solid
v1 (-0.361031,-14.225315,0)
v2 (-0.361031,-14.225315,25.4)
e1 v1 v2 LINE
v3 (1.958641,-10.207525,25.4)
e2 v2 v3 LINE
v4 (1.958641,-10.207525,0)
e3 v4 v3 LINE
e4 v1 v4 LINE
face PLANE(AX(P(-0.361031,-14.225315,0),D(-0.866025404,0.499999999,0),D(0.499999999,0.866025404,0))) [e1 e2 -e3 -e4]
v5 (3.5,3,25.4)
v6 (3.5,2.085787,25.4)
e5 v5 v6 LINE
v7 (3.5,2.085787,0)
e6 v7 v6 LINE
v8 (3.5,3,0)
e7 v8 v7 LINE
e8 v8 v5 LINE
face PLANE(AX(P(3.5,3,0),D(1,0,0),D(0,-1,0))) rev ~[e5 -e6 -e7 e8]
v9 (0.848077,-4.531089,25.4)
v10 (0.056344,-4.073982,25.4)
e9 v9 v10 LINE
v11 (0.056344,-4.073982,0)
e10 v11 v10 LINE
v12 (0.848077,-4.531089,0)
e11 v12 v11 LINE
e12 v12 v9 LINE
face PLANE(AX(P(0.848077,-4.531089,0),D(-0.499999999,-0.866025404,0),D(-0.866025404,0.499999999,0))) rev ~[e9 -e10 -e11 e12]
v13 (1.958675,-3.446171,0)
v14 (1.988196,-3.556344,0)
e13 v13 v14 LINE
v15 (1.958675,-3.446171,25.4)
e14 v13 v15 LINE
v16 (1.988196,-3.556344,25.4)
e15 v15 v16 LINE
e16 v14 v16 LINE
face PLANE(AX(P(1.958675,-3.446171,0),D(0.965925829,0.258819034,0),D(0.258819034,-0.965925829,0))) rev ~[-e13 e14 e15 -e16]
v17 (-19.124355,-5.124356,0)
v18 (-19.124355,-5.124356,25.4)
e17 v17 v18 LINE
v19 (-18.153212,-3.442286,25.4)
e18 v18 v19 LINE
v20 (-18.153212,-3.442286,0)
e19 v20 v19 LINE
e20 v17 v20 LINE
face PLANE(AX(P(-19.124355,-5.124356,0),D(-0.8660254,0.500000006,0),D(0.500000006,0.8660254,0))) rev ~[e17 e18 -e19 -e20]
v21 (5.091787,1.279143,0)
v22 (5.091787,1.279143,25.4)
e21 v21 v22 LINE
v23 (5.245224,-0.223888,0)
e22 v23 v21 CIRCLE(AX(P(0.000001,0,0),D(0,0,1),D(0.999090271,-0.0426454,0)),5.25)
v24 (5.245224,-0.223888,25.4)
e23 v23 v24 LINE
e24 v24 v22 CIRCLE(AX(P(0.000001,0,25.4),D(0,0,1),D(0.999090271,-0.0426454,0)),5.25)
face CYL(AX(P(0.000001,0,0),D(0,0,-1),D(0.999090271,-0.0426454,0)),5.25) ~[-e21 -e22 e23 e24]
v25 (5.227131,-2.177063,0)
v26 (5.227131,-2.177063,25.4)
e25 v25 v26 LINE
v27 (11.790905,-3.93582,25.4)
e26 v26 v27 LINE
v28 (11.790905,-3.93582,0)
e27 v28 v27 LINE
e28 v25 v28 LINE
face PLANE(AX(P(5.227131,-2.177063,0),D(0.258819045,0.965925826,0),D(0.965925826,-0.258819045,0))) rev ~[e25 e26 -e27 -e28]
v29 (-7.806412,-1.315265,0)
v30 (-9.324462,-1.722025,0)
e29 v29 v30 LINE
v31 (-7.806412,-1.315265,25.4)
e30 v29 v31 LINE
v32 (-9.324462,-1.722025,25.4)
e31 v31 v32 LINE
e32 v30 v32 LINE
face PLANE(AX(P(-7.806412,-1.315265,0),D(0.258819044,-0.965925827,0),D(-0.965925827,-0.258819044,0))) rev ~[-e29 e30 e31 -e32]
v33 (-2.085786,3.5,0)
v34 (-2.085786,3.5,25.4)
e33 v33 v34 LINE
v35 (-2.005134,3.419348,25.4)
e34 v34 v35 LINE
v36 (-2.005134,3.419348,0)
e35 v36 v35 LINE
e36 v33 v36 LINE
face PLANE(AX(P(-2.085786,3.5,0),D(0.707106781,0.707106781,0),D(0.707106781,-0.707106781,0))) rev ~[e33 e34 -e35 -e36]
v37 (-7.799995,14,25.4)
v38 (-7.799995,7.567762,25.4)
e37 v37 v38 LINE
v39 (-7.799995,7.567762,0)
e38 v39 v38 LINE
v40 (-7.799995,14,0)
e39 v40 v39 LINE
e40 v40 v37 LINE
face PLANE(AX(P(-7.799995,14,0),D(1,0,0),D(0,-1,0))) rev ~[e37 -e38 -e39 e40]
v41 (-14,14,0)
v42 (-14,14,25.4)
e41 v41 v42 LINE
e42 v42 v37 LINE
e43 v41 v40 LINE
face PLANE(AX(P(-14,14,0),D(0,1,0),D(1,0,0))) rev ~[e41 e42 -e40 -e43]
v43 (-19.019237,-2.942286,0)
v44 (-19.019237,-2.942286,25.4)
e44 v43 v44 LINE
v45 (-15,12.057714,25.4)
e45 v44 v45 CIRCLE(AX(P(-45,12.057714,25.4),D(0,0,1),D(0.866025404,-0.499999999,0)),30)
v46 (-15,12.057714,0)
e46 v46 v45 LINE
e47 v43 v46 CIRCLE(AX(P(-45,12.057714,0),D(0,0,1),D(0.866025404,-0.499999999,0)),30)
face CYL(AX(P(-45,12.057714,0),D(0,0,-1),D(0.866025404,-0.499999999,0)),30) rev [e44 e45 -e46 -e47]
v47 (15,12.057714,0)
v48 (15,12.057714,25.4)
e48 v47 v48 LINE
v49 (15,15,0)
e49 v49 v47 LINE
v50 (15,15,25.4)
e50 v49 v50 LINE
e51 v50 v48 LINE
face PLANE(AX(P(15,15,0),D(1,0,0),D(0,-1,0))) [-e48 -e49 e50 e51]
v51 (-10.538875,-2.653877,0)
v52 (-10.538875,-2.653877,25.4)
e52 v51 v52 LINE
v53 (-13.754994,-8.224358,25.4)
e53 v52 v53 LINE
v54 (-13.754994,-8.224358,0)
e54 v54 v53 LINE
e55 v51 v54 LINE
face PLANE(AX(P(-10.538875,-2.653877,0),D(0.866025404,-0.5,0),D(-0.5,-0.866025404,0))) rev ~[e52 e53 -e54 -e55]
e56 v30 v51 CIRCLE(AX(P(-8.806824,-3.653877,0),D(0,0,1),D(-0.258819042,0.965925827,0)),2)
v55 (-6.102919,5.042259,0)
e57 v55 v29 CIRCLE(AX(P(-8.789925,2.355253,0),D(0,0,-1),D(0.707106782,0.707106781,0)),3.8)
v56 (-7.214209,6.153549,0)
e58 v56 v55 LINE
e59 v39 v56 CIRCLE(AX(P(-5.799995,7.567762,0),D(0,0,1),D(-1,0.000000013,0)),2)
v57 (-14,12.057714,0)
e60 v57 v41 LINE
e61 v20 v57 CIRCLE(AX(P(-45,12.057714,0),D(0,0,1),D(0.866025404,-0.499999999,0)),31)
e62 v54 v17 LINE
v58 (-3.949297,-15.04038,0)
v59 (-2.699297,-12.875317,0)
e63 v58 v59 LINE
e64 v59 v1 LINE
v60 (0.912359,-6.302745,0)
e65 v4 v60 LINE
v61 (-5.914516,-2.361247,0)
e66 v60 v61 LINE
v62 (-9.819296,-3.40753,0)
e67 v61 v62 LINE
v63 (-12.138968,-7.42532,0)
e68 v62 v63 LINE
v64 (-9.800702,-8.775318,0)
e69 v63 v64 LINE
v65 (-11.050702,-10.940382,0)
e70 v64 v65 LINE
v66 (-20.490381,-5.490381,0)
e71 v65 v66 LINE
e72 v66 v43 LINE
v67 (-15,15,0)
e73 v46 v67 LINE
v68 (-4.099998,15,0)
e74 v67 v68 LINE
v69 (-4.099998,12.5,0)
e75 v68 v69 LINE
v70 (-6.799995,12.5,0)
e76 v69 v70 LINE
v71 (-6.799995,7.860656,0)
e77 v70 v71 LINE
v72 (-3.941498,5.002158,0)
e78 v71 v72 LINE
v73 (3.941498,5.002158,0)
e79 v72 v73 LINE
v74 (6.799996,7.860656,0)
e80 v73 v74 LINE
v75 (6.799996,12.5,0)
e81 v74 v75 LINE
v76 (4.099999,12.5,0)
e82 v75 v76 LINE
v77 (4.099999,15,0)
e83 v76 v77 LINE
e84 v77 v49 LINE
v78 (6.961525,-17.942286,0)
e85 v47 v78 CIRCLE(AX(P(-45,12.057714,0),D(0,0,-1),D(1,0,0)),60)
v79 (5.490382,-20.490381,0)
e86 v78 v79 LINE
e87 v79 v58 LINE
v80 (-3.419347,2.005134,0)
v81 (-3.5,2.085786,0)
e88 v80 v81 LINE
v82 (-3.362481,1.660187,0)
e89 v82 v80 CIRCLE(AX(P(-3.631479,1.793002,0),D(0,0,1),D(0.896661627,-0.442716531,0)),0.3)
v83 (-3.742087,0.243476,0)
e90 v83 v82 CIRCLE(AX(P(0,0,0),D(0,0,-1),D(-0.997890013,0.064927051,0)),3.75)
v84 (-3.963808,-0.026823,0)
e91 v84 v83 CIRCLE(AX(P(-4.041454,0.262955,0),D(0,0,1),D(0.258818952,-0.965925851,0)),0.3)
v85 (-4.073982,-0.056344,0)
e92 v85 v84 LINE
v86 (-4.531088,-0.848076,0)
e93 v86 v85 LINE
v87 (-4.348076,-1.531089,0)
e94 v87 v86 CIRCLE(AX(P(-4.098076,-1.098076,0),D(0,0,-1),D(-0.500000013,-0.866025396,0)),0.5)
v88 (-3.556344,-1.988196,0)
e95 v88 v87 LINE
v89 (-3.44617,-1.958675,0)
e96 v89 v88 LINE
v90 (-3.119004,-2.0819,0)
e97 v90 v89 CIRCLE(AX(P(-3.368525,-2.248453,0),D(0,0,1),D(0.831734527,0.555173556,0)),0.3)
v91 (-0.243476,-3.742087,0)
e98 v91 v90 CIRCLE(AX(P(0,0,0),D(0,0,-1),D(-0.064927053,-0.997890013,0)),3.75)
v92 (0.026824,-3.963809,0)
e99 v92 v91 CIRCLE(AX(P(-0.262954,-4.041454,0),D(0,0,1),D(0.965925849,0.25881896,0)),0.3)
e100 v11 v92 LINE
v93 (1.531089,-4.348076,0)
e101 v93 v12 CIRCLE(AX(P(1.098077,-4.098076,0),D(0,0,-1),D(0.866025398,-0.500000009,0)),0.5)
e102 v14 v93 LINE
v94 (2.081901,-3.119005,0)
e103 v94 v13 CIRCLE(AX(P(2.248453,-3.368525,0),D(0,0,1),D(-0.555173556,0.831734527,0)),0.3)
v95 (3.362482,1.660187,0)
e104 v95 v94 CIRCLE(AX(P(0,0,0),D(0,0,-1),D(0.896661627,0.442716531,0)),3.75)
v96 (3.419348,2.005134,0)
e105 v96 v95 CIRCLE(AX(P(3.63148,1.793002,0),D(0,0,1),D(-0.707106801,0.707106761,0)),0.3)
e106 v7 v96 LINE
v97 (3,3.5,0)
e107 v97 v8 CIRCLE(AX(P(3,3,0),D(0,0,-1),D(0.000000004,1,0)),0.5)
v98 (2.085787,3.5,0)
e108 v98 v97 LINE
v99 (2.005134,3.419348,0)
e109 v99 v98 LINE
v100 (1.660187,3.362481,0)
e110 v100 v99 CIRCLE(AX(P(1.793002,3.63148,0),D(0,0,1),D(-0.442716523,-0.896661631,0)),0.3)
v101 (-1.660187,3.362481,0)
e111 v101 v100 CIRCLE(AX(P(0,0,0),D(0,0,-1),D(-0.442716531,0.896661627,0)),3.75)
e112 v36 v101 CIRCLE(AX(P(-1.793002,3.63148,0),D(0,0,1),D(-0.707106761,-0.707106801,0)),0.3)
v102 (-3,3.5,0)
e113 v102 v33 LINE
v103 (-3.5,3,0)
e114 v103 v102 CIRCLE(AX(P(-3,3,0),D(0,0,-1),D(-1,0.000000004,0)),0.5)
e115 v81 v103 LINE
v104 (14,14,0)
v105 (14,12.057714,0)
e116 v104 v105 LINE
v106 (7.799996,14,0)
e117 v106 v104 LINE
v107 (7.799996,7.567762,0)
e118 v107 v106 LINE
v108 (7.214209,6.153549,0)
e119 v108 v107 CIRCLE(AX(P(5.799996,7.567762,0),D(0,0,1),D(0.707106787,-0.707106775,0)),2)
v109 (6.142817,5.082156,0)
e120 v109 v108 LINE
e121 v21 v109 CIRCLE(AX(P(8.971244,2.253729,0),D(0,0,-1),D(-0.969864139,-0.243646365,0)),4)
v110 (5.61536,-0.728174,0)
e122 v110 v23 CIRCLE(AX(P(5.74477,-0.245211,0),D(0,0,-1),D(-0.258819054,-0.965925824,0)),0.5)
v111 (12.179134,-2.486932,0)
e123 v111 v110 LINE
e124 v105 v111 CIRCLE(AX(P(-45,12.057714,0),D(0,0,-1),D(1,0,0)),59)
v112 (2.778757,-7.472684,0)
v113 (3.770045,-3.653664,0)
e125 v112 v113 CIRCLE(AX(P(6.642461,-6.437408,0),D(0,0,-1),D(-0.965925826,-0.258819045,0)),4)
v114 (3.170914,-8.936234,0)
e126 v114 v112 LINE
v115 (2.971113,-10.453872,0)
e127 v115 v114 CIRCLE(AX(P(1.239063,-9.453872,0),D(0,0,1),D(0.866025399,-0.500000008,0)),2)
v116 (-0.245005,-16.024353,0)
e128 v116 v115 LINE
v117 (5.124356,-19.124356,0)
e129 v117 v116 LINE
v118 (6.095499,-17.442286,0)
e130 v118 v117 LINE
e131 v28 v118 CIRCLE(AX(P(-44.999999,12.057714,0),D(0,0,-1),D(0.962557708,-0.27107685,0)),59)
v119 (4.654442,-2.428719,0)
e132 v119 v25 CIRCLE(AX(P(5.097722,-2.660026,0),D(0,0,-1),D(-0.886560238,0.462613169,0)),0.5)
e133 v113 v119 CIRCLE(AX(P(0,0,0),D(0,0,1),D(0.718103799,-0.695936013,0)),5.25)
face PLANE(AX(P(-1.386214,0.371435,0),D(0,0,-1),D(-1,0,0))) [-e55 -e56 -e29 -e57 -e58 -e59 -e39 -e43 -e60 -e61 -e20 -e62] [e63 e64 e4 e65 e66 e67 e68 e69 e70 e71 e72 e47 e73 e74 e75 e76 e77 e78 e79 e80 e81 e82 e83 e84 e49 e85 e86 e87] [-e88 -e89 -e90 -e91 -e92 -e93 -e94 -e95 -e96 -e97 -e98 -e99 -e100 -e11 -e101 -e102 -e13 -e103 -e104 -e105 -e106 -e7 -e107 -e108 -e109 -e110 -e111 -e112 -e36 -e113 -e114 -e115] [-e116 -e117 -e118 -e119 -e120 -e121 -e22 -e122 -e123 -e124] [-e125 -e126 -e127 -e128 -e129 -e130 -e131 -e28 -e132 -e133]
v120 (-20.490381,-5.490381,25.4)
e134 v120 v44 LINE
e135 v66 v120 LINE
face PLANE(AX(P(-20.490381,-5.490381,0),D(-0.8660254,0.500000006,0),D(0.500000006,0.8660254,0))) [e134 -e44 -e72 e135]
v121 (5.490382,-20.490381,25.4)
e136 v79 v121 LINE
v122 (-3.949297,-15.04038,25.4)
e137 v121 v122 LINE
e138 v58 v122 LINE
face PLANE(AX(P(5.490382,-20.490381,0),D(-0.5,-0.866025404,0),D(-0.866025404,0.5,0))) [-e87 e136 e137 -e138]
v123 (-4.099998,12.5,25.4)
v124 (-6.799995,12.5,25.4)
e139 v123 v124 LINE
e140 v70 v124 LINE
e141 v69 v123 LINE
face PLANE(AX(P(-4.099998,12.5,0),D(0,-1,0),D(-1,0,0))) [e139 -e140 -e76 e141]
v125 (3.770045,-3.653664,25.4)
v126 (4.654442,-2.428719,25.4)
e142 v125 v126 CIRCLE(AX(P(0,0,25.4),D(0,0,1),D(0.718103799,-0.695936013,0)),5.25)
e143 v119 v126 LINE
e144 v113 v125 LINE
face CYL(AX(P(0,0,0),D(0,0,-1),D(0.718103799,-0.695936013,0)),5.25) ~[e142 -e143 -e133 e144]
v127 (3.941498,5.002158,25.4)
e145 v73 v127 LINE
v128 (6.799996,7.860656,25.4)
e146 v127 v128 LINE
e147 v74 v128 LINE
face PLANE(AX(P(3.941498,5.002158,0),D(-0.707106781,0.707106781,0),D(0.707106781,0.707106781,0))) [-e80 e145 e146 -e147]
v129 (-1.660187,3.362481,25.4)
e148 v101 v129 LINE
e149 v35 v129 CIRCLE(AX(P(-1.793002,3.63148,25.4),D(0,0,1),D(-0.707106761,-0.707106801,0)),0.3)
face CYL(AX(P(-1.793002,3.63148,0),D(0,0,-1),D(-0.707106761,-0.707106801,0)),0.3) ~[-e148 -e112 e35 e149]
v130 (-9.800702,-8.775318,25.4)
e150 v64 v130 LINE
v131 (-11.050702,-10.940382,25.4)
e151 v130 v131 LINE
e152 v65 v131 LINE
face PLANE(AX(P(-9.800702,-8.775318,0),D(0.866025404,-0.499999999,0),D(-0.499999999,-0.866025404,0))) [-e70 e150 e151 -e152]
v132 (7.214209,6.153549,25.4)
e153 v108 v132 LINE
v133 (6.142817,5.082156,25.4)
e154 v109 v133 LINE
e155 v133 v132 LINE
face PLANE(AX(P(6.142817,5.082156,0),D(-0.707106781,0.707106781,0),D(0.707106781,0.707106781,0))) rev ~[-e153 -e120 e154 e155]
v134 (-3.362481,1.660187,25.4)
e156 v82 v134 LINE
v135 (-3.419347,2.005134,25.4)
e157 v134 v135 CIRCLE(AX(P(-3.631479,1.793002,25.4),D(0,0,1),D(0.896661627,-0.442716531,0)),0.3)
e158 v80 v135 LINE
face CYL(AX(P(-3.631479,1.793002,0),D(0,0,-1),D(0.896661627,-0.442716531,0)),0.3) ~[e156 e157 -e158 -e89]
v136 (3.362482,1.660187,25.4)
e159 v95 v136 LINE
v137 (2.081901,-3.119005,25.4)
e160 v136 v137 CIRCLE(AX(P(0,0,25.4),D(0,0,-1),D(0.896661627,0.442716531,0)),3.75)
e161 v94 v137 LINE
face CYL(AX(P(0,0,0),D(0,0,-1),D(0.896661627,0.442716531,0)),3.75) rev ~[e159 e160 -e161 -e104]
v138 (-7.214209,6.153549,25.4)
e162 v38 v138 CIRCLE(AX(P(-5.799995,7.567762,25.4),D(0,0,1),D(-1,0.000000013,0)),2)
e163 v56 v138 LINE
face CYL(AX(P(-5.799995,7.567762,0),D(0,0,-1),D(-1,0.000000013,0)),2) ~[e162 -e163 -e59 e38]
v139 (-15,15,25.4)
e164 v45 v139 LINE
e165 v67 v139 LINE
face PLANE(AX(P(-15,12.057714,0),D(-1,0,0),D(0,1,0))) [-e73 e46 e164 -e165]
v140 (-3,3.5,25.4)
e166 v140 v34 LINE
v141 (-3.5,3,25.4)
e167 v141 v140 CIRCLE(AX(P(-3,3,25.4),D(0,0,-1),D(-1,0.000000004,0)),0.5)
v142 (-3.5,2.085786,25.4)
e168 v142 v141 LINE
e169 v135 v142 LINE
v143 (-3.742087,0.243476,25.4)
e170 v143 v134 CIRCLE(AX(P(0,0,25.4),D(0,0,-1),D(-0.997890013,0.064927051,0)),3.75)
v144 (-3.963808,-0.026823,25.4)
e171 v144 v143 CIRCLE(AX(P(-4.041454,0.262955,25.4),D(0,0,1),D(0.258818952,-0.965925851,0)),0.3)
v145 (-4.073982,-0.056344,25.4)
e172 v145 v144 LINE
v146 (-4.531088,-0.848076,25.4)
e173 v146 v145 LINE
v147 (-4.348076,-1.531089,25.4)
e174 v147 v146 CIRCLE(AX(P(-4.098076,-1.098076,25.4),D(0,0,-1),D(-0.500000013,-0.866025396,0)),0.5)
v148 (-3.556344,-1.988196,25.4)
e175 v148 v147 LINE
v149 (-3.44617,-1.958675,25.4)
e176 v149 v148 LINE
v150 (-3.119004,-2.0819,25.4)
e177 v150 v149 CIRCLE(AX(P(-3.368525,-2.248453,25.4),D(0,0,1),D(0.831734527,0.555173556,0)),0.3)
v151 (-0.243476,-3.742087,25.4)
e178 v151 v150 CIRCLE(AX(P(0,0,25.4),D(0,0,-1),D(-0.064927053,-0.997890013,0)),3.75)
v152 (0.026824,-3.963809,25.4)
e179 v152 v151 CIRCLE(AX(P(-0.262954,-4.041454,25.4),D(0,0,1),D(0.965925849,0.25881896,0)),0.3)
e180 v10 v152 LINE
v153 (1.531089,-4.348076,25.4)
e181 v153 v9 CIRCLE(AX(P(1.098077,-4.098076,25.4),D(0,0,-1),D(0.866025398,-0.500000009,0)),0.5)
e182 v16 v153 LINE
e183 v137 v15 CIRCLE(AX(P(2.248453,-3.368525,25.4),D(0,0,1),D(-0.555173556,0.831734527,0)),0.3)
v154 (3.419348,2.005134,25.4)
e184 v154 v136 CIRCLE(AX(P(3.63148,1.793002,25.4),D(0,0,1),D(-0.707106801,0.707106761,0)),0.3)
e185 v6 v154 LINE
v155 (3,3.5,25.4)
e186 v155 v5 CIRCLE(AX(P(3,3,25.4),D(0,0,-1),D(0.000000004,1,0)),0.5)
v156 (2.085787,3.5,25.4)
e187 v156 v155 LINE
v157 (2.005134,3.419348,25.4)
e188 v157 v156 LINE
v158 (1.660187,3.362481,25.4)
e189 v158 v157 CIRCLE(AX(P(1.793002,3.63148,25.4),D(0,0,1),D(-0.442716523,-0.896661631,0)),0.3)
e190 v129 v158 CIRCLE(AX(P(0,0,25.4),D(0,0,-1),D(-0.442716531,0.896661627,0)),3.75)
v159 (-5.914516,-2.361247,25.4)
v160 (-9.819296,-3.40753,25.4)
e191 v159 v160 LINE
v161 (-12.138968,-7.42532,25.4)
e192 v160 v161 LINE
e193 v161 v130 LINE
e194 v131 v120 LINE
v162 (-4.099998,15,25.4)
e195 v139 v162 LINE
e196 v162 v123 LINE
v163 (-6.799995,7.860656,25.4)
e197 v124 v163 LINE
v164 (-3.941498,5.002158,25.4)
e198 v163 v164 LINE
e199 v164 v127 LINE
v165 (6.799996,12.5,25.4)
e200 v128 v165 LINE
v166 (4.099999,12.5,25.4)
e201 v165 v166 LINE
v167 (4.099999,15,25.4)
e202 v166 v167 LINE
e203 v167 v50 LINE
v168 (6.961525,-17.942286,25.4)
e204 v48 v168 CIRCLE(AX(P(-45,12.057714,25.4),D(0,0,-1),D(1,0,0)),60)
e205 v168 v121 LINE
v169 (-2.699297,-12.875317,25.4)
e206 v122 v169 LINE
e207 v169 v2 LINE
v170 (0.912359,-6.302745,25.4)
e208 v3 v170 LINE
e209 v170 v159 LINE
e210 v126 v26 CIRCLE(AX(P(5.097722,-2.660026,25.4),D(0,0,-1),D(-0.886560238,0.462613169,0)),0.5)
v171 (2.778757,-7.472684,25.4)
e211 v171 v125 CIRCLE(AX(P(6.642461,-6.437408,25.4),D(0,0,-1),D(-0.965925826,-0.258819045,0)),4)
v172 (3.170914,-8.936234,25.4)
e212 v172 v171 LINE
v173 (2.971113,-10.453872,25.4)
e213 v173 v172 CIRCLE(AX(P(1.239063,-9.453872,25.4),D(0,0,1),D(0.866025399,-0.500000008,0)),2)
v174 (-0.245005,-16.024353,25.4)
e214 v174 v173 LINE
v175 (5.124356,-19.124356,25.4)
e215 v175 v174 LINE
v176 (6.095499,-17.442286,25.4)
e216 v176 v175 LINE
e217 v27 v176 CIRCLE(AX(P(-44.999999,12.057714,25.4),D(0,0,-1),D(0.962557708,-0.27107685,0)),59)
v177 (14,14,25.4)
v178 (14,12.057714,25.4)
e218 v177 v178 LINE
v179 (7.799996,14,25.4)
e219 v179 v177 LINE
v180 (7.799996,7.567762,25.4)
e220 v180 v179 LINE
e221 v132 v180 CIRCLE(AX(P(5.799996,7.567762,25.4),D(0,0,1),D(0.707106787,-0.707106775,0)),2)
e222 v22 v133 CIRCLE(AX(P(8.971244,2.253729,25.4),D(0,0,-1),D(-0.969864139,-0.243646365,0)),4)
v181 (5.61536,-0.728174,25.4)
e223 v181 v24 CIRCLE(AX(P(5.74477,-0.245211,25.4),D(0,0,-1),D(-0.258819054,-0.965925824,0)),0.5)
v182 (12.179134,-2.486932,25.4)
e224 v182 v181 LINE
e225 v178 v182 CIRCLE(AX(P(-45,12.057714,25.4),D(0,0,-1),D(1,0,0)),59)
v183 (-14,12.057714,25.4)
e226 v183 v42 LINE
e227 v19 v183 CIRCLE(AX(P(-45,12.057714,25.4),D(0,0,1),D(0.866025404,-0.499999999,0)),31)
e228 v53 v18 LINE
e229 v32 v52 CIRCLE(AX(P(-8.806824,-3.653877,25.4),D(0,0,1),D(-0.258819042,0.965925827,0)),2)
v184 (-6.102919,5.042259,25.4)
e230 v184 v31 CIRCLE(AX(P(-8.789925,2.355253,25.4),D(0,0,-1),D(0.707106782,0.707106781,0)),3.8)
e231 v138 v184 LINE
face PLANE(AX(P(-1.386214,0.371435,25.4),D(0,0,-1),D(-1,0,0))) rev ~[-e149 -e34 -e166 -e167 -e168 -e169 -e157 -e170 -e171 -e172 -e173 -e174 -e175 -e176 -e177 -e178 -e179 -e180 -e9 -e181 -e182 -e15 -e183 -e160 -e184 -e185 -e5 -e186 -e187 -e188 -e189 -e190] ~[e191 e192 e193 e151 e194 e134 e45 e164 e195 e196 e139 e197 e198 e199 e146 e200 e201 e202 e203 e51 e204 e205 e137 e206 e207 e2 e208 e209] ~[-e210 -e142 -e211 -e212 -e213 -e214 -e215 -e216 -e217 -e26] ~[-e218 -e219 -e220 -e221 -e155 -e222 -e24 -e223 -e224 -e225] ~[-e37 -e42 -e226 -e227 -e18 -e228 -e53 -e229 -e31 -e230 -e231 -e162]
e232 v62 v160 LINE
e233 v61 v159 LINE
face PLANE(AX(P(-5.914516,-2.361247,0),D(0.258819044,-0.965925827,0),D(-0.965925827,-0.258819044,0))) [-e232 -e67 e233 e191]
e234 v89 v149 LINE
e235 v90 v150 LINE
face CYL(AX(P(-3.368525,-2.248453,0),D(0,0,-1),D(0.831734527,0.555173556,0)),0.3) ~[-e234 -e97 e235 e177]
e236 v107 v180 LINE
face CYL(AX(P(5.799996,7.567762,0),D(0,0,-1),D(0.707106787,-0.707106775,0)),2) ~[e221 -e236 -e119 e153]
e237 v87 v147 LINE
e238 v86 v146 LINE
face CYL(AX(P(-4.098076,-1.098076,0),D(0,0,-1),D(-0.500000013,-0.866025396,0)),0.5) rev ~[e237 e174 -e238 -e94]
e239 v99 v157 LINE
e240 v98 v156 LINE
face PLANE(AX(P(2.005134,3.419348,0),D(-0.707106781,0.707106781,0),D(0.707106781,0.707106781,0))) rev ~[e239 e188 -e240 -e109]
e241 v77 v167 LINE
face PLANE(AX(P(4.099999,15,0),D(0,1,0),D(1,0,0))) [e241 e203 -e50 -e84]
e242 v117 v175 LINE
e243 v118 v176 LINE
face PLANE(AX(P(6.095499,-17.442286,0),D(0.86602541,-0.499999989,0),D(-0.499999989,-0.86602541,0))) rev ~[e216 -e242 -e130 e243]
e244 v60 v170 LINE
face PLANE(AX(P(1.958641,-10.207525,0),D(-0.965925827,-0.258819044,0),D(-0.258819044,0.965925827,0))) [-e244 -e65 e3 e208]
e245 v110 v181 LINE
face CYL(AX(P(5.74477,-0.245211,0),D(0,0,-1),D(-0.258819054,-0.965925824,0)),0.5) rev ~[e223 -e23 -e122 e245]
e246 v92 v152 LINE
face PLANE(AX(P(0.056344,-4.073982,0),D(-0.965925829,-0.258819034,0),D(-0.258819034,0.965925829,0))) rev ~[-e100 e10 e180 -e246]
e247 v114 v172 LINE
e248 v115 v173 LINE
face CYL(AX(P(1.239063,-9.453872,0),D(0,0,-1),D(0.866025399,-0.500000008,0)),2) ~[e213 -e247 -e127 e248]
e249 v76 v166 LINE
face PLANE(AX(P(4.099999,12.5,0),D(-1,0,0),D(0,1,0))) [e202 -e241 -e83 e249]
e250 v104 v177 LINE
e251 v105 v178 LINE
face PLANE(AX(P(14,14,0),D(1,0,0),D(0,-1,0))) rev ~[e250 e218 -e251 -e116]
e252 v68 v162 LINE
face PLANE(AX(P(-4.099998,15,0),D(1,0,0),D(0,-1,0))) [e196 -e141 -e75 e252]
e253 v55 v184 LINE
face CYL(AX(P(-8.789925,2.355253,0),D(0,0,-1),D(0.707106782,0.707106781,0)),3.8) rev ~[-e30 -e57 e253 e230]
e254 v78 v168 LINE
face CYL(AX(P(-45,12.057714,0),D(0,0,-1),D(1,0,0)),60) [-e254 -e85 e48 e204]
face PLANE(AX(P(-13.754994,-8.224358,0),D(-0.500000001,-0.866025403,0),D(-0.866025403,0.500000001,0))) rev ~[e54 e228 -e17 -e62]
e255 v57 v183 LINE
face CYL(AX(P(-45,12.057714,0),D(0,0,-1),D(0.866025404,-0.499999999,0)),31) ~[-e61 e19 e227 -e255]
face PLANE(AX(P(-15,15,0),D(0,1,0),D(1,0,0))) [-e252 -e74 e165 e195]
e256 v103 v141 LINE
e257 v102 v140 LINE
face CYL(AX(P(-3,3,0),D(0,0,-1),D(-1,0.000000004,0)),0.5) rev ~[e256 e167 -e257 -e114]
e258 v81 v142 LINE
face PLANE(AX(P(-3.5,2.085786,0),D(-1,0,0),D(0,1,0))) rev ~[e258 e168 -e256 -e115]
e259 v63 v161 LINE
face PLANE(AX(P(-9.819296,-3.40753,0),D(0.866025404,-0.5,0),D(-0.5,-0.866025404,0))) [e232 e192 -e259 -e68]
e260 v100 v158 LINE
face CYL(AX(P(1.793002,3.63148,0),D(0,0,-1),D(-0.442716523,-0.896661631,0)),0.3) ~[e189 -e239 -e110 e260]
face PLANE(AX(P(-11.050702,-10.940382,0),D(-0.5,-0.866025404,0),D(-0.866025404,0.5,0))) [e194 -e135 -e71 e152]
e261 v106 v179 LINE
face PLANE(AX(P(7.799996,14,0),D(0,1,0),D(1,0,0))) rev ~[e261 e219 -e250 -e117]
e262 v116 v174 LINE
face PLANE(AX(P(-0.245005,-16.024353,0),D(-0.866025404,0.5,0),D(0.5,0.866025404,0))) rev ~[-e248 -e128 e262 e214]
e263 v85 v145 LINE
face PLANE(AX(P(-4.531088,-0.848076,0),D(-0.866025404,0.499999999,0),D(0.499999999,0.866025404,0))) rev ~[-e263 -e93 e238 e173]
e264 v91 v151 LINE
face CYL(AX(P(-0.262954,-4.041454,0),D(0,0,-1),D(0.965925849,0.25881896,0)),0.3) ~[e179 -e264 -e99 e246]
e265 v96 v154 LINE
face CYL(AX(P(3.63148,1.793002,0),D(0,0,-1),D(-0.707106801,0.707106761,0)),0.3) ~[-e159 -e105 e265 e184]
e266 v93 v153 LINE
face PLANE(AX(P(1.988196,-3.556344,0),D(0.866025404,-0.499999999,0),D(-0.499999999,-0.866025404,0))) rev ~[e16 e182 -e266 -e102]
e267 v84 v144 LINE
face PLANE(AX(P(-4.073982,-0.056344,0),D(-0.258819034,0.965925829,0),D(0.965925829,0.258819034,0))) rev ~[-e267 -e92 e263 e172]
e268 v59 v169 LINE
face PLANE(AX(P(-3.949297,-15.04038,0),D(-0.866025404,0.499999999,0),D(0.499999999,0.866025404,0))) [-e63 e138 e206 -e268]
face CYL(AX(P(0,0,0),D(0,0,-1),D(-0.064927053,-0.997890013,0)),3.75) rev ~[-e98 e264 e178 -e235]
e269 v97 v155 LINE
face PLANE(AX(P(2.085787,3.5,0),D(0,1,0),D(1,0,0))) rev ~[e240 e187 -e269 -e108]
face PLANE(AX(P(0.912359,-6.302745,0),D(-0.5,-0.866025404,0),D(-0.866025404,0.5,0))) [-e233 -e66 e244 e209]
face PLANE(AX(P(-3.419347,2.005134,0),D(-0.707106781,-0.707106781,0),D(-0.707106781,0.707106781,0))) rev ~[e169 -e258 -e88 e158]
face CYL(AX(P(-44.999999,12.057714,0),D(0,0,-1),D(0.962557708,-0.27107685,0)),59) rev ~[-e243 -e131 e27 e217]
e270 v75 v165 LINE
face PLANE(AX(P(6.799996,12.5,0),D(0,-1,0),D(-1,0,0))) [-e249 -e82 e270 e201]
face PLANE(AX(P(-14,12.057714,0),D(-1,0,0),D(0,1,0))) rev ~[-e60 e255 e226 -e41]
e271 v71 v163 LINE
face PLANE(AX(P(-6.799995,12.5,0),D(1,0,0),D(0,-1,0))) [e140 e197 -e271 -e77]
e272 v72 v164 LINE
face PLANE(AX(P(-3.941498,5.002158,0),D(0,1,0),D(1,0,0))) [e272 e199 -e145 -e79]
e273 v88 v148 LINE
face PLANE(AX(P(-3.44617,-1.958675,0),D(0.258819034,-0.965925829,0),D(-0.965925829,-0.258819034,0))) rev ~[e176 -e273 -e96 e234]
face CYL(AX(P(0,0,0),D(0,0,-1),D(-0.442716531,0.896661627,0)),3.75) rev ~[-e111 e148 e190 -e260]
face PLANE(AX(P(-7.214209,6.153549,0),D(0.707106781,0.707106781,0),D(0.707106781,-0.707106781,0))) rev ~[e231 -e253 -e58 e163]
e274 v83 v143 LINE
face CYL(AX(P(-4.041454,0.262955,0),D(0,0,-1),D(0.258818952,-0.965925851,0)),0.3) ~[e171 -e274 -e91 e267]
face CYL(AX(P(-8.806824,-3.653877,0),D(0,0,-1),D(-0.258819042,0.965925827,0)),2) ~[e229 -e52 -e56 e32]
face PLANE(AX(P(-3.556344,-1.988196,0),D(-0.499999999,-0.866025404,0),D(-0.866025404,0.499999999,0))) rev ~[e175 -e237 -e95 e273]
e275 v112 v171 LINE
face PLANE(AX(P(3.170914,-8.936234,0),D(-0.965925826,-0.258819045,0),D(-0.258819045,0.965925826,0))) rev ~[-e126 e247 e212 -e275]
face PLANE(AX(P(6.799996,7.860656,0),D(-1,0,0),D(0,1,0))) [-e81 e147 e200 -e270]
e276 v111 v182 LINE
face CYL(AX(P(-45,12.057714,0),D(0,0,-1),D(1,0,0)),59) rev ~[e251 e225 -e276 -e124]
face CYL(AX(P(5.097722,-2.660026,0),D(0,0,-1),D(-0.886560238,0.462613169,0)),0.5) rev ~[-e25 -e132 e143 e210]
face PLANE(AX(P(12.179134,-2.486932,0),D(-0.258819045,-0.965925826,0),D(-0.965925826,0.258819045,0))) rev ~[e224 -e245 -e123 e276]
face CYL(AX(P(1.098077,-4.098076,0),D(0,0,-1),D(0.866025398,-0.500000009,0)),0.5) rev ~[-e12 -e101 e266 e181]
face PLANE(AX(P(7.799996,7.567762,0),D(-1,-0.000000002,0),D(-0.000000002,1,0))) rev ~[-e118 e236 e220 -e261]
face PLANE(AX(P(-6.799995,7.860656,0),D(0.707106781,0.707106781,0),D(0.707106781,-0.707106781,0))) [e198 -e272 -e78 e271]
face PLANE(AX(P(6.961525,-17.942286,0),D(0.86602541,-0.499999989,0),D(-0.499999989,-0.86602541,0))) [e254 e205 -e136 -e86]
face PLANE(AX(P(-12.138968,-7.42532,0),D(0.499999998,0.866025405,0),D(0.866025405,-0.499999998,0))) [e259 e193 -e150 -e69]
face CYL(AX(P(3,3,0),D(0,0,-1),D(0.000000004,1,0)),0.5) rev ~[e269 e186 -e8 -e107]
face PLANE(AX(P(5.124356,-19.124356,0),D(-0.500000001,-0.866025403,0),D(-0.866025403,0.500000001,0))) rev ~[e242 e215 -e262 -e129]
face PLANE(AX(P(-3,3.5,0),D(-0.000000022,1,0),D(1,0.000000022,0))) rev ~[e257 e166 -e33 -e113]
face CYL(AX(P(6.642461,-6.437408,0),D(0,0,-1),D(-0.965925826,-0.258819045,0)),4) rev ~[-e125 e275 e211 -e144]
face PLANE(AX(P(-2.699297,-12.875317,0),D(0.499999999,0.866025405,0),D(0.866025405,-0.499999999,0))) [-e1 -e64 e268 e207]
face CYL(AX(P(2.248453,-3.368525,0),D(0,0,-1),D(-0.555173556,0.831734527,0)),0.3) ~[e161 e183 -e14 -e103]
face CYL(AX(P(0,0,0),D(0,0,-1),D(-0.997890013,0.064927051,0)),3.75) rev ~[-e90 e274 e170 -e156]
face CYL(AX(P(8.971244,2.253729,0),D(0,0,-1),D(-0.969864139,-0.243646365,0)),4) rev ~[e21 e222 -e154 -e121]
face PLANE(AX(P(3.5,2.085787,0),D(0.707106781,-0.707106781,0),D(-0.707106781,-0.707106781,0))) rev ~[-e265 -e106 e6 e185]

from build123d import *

# Parameters (mm, degrees)
EXTRUSION4_DEPTH = 25.4


with BuildPart() as part:
    # Sketch1 → Extrusion4 (new body)
    with BuildSketch(Plane.XY):
        with BuildLine():
            Line((-14.999999544, 15.00000004), (-4.099998054, 15.00000004))
            Line((-4.099998054, 15.00000004), (-4.099998054, 12.50000004))
            Line((-4.099998054, 12.50000004), (-6.799995004, 12.50000004))
            Line((-6.799995004, 12.50000004), (-6.799995004, 7.86065564))
            Line((-6.799995004, 7.86065564), (-3.941497574, 5.00215821))
            Line((-3.941497574, 5.00215821), (3.941498416, 5.00215821))
            Line((3.941498416, 5.00215821), (6.799995846, 7.86065564))
            Line((6.799995846, 7.86065564), (6.799995846, 12.50000004))
            Line((6.799995846, 12.50000004), (4.099998896, 12.50000004))
            Line((4.099998896, 12.50000004), (4.099998896, 15.00000004))
            Line((4.099998896, 15.00000004), (15.000000416, 15.00000004))
            Line((15.000000416, 15.00000004), (15.000000416, 12.05771371))
            ThreePointArc((15.000000416, 12.05771371), (12.955549997, -3.471428997), (6.961524646, -17.94228629))
            Line((6.961524646, -17.94228629), (5.490381513, -20.490381017))
            Line((5.490381513, -20.490381017), (-3.949296731, -15.040380238))
            Line((-3.949296731, -15.040380238), (-2.699296736, -12.875316731))
            Line((-2.699296736, -12.875316731), (-0.361030787, -14.225315201))
            Line((-0.361030787, -14.225315201), (1.958641406, -10.2075251))
            Line((1.958641406, -10.2075251), (0.912358736, -6.302745))
            Line((0.912358736, -6.302745), (-5.914516044, -2.36124701))
            Line((-5.914516044, -2.36124701), (-9.819296144, -3.40752968))
            Line((-9.819296144, -3.40752968), (-12.138968342, -7.425319789))
            Line((-12.138968342, -7.425319789), (-9.800702394, -8.775318258))
            Line((-9.800702394, -8.775318258), (-11.050702387, -10.940381761))
            Line((-11.050702387, -10.940381761), (-20.490380619, -5.490380991))
            Line((-20.490380619, -5.490380991), (-19.019237434, -2.94228629))
            ThreePointArc((-19.019237434, -2.94228629), (-16.022224761, 4.293142357), (-14.999999544, 12.05771371))
            Line((-14.999999544, 12.05771371), (-14.999999544, 15.00000004))
        make_face()
        with BuildLine():
            Line((-3.499999544, 2.08578648), (-3.499999544, 3.00000004))
            ThreePointArc((-3.499999544, 3.00000004), (-3.353552934, 3.35355343), (-2.999999544, 3.50000004))
            Line((-2.999999544, 3.50000004), (-2.085785994, 3.50000006))
            Line((-2.085785994, 3.50000006), (-2.005133554, 3.41934762))
            ThreePointArc((-2.005133554, 3.41934762), (-1.841799553, 3.33547501), (-1.660186564, 3.36248117))
            ThreePointArc((-1.660186564, 3.36248117), (4.31e-07, 3.75000007), (1.660187426, 3.36248117))
            ThreePointArc((1.660187426, 3.36248117), (1.841800416, 3.33547501), (2.005134416, 3.41934762))
            Line((2.005134416, 3.41934762), (2.085786856, 3.50000006))
            Line((2.085786856, 3.50000006), (3.000000416, 3.50000006))
            ThreePointArc((3.000000416, 3.50000006), (3.353553806, 3.35355345), (3.500000416, 3.00000006))
            Line((3.500000416, 3.00000006), (3.500000416, 2.0857865))
            Line((3.500000416, 2.0857865), (3.419347976, 2.00513406))
            ThreePointArc((3.419347976, 2.00513406), (3.335475366, 1.841800059), (3.362481526, 1.66018707))
            ThreePointArc((3.362481526, 1.66018707), (3.622222275, -0.970571346), (2.081900986, -3.11900459))
            ThreePointArc((2.081900986, -3.11900459), (1.967706477, -3.262782979), (1.958675286, -3.44617068))
            Line((1.958675286, -3.44617068), (1.988196126, -3.55634396))
            Line((1.988196126, -3.55634396), (1.531089346, -4.34807613))
            ThreePointArc((1.531089346, -4.34807613), (1.227486167, -4.58103904), (0.848076646, -4.53108883))
            Line((0.848076646, -4.53108883), (0.056344476, -4.07398205))
            Line((0.056344476, -4.07398205), (0.026823636, -3.96380877))
            ThreePointArc((0.026823636, -3.96380877), (-0.072691445, -3.809505949), (-0.243475994, -3.74208748))
            ThreePointArc((-0.243475994, -3.74208748), (-1.874999553, -3.247595194), (-3.119004214, -2.08190049))
            ThreePointArc((-3.119004214, -2.08190049), (-3.262782603, -1.967705981), (-3.446170304, -1.95867479))
            Line((-3.446170304, -1.95867479), (-3.556343584, -1.98819563))
            Line((-3.556343584, -1.98819563), (-4.348075754, -1.53108885))
            ThreePointArc((-4.348075754, -1.53108885), (-4.581038663, -1.227485671), (-4.531088454, -0.84807615))
            Line((-4.531088454, -0.84807615), (-4.073981674, -0.05634398))
            Line((-4.073981674, -0.05634398), (-3.963808394, -0.02682314))
            ThreePointArc((-3.963808394, -0.02682314), (-3.809505572, 0.072691941), (-3.742087104, 0.24347649))
            ThreePointArc((-3.742087104, 0.24347649), (-3.622221403, 0.970571473), (-3.362480654, 1.66018705))
            ThreePointArc((-3.362480654, 1.66018705), (-3.335474493, 1.841800039), (-3.419347104, 2.00513404))
            Line((-3.419347104, 2.00513404), (-3.499999544, 2.08578648))
        make_face(mode=Mode.SUBTRACT)
        with BuildLine():
            Line((7.799995876, 7.56776241), (7.799995866, 14.00000004))
            Line((7.799995866, 14.00000004), (14.000000436, 14.00000004))
            Line((14.000000436, 14.00000004), (14.000000436, 12.05771371))
            ThreePointArc((14.000000436, 12.05771371), (13.543013967, 4.72862326), (12.179133767, -2.486931761))
            Line((12.179133767, -2.486931761), (5.615359986, -0.72817388))
            ThreePointArc((5.615359986, -0.72817388), (5.341691374, -0.541062306), (5.245224376, -0.22388827))
            ThreePointArc((5.245224376, -0.22388827), (5.222856323, 0.533175972), (5.091787186, 1.27914345))
            ThreePointArc((5.091787186, 1.27914345), (5.115773337, 3.319255981), (6.142816616, 5.08215603))
            Line((6.142816616, 5.08215603), (7.214209436, 6.15354885))
            ThreePointArc((7.214209436, 6.15354885), (7.647754936, 6.802395548), (7.799995876, 7.56776241))
        make_face(mode=Mode.SUBTRACT)
        with BuildLine():
            Line((5.227131414, -2.177062614), (11.790905183, -3.935820492))
            ThreePointArc((11.790905183, -3.935820492), (9.364282579, -10.866614542), (6.095499246, -17.44228629))
            Line((6.095499246, -17.44228629), (5.124356099, -19.124355612))
            Line((5.124356099, -19.124355612), (-0.245005373, -16.024353311))
            Line((-0.245005373, -16.024353311), (2.971113436, -10.45387213))
            ThreePointArc((2.971113436, -10.45387213), (3.221952356, -9.714924516), (3.170914286, -8.93623404))
            Line((3.170914286, -8.93623404), (2.778757296, -7.47268423))
            ThreePointArc((2.778757296, -7.47268423), (2.770761748, -5.432446365), (3.770045396, -3.65366401))
            ThreePointArc((3.770045396, -3.65366401), (4.256538339, -3.07317179), (4.654441766, -2.42871895))
            ThreePointArc((4.654441766, -2.42871895), (4.896571658, -2.202271683), (5.227131414, -2.177062614))
        make_face(mode=Mode.SUBTRACT)
        with BuildLine():
            Line((-13.999999544, 14.00000005), (-7.799994974, 14.00000005))
            Line((-7.799994974, 14.00000005), (-7.799994974, 7.56776243))
            ThreePointArc((-7.799994974, 7.56776243), (-7.647754043, 6.802395559), (-7.214208534, 6.15354886))
            Line((-7.214208534, 6.15354886), (-6.102918804, 5.04225913))
            ThreePointArc((-6.102918804, 5.04225913), (-5.119406434, 1.371740988), (-7.806412204, -1.31526478))
            Line((-7.806412204, -1.31526478), (-9.324462204, -1.72202505))
            ThreePointArc((-9.324462204, -1.72202505), (-10.024346973, -2.06717002), (-10.538874924, -2.6538767))
            Line((-10.538874924, -2.6538767), (-13.754993733, -8.224357881))
            Line((-13.754993733, -8.224357881), (-19.124355202, -5.12435558))
            Line((-19.124355202, -5.12435558), (-18.153212024, -3.44228628))
            ThreePointArc((-18.153212024, -3.44228628), (-15.056298932, 4.034323322), (-13.999999544, 12.05771372))
            Line((-13.999999544, 12.05771372), (-13.999999544, 14.00000005))
        make_face(mode=Mode.SUBTRACT)
    extrude(amount=EXTRUSION4_DEPTH)


solid = part.part
